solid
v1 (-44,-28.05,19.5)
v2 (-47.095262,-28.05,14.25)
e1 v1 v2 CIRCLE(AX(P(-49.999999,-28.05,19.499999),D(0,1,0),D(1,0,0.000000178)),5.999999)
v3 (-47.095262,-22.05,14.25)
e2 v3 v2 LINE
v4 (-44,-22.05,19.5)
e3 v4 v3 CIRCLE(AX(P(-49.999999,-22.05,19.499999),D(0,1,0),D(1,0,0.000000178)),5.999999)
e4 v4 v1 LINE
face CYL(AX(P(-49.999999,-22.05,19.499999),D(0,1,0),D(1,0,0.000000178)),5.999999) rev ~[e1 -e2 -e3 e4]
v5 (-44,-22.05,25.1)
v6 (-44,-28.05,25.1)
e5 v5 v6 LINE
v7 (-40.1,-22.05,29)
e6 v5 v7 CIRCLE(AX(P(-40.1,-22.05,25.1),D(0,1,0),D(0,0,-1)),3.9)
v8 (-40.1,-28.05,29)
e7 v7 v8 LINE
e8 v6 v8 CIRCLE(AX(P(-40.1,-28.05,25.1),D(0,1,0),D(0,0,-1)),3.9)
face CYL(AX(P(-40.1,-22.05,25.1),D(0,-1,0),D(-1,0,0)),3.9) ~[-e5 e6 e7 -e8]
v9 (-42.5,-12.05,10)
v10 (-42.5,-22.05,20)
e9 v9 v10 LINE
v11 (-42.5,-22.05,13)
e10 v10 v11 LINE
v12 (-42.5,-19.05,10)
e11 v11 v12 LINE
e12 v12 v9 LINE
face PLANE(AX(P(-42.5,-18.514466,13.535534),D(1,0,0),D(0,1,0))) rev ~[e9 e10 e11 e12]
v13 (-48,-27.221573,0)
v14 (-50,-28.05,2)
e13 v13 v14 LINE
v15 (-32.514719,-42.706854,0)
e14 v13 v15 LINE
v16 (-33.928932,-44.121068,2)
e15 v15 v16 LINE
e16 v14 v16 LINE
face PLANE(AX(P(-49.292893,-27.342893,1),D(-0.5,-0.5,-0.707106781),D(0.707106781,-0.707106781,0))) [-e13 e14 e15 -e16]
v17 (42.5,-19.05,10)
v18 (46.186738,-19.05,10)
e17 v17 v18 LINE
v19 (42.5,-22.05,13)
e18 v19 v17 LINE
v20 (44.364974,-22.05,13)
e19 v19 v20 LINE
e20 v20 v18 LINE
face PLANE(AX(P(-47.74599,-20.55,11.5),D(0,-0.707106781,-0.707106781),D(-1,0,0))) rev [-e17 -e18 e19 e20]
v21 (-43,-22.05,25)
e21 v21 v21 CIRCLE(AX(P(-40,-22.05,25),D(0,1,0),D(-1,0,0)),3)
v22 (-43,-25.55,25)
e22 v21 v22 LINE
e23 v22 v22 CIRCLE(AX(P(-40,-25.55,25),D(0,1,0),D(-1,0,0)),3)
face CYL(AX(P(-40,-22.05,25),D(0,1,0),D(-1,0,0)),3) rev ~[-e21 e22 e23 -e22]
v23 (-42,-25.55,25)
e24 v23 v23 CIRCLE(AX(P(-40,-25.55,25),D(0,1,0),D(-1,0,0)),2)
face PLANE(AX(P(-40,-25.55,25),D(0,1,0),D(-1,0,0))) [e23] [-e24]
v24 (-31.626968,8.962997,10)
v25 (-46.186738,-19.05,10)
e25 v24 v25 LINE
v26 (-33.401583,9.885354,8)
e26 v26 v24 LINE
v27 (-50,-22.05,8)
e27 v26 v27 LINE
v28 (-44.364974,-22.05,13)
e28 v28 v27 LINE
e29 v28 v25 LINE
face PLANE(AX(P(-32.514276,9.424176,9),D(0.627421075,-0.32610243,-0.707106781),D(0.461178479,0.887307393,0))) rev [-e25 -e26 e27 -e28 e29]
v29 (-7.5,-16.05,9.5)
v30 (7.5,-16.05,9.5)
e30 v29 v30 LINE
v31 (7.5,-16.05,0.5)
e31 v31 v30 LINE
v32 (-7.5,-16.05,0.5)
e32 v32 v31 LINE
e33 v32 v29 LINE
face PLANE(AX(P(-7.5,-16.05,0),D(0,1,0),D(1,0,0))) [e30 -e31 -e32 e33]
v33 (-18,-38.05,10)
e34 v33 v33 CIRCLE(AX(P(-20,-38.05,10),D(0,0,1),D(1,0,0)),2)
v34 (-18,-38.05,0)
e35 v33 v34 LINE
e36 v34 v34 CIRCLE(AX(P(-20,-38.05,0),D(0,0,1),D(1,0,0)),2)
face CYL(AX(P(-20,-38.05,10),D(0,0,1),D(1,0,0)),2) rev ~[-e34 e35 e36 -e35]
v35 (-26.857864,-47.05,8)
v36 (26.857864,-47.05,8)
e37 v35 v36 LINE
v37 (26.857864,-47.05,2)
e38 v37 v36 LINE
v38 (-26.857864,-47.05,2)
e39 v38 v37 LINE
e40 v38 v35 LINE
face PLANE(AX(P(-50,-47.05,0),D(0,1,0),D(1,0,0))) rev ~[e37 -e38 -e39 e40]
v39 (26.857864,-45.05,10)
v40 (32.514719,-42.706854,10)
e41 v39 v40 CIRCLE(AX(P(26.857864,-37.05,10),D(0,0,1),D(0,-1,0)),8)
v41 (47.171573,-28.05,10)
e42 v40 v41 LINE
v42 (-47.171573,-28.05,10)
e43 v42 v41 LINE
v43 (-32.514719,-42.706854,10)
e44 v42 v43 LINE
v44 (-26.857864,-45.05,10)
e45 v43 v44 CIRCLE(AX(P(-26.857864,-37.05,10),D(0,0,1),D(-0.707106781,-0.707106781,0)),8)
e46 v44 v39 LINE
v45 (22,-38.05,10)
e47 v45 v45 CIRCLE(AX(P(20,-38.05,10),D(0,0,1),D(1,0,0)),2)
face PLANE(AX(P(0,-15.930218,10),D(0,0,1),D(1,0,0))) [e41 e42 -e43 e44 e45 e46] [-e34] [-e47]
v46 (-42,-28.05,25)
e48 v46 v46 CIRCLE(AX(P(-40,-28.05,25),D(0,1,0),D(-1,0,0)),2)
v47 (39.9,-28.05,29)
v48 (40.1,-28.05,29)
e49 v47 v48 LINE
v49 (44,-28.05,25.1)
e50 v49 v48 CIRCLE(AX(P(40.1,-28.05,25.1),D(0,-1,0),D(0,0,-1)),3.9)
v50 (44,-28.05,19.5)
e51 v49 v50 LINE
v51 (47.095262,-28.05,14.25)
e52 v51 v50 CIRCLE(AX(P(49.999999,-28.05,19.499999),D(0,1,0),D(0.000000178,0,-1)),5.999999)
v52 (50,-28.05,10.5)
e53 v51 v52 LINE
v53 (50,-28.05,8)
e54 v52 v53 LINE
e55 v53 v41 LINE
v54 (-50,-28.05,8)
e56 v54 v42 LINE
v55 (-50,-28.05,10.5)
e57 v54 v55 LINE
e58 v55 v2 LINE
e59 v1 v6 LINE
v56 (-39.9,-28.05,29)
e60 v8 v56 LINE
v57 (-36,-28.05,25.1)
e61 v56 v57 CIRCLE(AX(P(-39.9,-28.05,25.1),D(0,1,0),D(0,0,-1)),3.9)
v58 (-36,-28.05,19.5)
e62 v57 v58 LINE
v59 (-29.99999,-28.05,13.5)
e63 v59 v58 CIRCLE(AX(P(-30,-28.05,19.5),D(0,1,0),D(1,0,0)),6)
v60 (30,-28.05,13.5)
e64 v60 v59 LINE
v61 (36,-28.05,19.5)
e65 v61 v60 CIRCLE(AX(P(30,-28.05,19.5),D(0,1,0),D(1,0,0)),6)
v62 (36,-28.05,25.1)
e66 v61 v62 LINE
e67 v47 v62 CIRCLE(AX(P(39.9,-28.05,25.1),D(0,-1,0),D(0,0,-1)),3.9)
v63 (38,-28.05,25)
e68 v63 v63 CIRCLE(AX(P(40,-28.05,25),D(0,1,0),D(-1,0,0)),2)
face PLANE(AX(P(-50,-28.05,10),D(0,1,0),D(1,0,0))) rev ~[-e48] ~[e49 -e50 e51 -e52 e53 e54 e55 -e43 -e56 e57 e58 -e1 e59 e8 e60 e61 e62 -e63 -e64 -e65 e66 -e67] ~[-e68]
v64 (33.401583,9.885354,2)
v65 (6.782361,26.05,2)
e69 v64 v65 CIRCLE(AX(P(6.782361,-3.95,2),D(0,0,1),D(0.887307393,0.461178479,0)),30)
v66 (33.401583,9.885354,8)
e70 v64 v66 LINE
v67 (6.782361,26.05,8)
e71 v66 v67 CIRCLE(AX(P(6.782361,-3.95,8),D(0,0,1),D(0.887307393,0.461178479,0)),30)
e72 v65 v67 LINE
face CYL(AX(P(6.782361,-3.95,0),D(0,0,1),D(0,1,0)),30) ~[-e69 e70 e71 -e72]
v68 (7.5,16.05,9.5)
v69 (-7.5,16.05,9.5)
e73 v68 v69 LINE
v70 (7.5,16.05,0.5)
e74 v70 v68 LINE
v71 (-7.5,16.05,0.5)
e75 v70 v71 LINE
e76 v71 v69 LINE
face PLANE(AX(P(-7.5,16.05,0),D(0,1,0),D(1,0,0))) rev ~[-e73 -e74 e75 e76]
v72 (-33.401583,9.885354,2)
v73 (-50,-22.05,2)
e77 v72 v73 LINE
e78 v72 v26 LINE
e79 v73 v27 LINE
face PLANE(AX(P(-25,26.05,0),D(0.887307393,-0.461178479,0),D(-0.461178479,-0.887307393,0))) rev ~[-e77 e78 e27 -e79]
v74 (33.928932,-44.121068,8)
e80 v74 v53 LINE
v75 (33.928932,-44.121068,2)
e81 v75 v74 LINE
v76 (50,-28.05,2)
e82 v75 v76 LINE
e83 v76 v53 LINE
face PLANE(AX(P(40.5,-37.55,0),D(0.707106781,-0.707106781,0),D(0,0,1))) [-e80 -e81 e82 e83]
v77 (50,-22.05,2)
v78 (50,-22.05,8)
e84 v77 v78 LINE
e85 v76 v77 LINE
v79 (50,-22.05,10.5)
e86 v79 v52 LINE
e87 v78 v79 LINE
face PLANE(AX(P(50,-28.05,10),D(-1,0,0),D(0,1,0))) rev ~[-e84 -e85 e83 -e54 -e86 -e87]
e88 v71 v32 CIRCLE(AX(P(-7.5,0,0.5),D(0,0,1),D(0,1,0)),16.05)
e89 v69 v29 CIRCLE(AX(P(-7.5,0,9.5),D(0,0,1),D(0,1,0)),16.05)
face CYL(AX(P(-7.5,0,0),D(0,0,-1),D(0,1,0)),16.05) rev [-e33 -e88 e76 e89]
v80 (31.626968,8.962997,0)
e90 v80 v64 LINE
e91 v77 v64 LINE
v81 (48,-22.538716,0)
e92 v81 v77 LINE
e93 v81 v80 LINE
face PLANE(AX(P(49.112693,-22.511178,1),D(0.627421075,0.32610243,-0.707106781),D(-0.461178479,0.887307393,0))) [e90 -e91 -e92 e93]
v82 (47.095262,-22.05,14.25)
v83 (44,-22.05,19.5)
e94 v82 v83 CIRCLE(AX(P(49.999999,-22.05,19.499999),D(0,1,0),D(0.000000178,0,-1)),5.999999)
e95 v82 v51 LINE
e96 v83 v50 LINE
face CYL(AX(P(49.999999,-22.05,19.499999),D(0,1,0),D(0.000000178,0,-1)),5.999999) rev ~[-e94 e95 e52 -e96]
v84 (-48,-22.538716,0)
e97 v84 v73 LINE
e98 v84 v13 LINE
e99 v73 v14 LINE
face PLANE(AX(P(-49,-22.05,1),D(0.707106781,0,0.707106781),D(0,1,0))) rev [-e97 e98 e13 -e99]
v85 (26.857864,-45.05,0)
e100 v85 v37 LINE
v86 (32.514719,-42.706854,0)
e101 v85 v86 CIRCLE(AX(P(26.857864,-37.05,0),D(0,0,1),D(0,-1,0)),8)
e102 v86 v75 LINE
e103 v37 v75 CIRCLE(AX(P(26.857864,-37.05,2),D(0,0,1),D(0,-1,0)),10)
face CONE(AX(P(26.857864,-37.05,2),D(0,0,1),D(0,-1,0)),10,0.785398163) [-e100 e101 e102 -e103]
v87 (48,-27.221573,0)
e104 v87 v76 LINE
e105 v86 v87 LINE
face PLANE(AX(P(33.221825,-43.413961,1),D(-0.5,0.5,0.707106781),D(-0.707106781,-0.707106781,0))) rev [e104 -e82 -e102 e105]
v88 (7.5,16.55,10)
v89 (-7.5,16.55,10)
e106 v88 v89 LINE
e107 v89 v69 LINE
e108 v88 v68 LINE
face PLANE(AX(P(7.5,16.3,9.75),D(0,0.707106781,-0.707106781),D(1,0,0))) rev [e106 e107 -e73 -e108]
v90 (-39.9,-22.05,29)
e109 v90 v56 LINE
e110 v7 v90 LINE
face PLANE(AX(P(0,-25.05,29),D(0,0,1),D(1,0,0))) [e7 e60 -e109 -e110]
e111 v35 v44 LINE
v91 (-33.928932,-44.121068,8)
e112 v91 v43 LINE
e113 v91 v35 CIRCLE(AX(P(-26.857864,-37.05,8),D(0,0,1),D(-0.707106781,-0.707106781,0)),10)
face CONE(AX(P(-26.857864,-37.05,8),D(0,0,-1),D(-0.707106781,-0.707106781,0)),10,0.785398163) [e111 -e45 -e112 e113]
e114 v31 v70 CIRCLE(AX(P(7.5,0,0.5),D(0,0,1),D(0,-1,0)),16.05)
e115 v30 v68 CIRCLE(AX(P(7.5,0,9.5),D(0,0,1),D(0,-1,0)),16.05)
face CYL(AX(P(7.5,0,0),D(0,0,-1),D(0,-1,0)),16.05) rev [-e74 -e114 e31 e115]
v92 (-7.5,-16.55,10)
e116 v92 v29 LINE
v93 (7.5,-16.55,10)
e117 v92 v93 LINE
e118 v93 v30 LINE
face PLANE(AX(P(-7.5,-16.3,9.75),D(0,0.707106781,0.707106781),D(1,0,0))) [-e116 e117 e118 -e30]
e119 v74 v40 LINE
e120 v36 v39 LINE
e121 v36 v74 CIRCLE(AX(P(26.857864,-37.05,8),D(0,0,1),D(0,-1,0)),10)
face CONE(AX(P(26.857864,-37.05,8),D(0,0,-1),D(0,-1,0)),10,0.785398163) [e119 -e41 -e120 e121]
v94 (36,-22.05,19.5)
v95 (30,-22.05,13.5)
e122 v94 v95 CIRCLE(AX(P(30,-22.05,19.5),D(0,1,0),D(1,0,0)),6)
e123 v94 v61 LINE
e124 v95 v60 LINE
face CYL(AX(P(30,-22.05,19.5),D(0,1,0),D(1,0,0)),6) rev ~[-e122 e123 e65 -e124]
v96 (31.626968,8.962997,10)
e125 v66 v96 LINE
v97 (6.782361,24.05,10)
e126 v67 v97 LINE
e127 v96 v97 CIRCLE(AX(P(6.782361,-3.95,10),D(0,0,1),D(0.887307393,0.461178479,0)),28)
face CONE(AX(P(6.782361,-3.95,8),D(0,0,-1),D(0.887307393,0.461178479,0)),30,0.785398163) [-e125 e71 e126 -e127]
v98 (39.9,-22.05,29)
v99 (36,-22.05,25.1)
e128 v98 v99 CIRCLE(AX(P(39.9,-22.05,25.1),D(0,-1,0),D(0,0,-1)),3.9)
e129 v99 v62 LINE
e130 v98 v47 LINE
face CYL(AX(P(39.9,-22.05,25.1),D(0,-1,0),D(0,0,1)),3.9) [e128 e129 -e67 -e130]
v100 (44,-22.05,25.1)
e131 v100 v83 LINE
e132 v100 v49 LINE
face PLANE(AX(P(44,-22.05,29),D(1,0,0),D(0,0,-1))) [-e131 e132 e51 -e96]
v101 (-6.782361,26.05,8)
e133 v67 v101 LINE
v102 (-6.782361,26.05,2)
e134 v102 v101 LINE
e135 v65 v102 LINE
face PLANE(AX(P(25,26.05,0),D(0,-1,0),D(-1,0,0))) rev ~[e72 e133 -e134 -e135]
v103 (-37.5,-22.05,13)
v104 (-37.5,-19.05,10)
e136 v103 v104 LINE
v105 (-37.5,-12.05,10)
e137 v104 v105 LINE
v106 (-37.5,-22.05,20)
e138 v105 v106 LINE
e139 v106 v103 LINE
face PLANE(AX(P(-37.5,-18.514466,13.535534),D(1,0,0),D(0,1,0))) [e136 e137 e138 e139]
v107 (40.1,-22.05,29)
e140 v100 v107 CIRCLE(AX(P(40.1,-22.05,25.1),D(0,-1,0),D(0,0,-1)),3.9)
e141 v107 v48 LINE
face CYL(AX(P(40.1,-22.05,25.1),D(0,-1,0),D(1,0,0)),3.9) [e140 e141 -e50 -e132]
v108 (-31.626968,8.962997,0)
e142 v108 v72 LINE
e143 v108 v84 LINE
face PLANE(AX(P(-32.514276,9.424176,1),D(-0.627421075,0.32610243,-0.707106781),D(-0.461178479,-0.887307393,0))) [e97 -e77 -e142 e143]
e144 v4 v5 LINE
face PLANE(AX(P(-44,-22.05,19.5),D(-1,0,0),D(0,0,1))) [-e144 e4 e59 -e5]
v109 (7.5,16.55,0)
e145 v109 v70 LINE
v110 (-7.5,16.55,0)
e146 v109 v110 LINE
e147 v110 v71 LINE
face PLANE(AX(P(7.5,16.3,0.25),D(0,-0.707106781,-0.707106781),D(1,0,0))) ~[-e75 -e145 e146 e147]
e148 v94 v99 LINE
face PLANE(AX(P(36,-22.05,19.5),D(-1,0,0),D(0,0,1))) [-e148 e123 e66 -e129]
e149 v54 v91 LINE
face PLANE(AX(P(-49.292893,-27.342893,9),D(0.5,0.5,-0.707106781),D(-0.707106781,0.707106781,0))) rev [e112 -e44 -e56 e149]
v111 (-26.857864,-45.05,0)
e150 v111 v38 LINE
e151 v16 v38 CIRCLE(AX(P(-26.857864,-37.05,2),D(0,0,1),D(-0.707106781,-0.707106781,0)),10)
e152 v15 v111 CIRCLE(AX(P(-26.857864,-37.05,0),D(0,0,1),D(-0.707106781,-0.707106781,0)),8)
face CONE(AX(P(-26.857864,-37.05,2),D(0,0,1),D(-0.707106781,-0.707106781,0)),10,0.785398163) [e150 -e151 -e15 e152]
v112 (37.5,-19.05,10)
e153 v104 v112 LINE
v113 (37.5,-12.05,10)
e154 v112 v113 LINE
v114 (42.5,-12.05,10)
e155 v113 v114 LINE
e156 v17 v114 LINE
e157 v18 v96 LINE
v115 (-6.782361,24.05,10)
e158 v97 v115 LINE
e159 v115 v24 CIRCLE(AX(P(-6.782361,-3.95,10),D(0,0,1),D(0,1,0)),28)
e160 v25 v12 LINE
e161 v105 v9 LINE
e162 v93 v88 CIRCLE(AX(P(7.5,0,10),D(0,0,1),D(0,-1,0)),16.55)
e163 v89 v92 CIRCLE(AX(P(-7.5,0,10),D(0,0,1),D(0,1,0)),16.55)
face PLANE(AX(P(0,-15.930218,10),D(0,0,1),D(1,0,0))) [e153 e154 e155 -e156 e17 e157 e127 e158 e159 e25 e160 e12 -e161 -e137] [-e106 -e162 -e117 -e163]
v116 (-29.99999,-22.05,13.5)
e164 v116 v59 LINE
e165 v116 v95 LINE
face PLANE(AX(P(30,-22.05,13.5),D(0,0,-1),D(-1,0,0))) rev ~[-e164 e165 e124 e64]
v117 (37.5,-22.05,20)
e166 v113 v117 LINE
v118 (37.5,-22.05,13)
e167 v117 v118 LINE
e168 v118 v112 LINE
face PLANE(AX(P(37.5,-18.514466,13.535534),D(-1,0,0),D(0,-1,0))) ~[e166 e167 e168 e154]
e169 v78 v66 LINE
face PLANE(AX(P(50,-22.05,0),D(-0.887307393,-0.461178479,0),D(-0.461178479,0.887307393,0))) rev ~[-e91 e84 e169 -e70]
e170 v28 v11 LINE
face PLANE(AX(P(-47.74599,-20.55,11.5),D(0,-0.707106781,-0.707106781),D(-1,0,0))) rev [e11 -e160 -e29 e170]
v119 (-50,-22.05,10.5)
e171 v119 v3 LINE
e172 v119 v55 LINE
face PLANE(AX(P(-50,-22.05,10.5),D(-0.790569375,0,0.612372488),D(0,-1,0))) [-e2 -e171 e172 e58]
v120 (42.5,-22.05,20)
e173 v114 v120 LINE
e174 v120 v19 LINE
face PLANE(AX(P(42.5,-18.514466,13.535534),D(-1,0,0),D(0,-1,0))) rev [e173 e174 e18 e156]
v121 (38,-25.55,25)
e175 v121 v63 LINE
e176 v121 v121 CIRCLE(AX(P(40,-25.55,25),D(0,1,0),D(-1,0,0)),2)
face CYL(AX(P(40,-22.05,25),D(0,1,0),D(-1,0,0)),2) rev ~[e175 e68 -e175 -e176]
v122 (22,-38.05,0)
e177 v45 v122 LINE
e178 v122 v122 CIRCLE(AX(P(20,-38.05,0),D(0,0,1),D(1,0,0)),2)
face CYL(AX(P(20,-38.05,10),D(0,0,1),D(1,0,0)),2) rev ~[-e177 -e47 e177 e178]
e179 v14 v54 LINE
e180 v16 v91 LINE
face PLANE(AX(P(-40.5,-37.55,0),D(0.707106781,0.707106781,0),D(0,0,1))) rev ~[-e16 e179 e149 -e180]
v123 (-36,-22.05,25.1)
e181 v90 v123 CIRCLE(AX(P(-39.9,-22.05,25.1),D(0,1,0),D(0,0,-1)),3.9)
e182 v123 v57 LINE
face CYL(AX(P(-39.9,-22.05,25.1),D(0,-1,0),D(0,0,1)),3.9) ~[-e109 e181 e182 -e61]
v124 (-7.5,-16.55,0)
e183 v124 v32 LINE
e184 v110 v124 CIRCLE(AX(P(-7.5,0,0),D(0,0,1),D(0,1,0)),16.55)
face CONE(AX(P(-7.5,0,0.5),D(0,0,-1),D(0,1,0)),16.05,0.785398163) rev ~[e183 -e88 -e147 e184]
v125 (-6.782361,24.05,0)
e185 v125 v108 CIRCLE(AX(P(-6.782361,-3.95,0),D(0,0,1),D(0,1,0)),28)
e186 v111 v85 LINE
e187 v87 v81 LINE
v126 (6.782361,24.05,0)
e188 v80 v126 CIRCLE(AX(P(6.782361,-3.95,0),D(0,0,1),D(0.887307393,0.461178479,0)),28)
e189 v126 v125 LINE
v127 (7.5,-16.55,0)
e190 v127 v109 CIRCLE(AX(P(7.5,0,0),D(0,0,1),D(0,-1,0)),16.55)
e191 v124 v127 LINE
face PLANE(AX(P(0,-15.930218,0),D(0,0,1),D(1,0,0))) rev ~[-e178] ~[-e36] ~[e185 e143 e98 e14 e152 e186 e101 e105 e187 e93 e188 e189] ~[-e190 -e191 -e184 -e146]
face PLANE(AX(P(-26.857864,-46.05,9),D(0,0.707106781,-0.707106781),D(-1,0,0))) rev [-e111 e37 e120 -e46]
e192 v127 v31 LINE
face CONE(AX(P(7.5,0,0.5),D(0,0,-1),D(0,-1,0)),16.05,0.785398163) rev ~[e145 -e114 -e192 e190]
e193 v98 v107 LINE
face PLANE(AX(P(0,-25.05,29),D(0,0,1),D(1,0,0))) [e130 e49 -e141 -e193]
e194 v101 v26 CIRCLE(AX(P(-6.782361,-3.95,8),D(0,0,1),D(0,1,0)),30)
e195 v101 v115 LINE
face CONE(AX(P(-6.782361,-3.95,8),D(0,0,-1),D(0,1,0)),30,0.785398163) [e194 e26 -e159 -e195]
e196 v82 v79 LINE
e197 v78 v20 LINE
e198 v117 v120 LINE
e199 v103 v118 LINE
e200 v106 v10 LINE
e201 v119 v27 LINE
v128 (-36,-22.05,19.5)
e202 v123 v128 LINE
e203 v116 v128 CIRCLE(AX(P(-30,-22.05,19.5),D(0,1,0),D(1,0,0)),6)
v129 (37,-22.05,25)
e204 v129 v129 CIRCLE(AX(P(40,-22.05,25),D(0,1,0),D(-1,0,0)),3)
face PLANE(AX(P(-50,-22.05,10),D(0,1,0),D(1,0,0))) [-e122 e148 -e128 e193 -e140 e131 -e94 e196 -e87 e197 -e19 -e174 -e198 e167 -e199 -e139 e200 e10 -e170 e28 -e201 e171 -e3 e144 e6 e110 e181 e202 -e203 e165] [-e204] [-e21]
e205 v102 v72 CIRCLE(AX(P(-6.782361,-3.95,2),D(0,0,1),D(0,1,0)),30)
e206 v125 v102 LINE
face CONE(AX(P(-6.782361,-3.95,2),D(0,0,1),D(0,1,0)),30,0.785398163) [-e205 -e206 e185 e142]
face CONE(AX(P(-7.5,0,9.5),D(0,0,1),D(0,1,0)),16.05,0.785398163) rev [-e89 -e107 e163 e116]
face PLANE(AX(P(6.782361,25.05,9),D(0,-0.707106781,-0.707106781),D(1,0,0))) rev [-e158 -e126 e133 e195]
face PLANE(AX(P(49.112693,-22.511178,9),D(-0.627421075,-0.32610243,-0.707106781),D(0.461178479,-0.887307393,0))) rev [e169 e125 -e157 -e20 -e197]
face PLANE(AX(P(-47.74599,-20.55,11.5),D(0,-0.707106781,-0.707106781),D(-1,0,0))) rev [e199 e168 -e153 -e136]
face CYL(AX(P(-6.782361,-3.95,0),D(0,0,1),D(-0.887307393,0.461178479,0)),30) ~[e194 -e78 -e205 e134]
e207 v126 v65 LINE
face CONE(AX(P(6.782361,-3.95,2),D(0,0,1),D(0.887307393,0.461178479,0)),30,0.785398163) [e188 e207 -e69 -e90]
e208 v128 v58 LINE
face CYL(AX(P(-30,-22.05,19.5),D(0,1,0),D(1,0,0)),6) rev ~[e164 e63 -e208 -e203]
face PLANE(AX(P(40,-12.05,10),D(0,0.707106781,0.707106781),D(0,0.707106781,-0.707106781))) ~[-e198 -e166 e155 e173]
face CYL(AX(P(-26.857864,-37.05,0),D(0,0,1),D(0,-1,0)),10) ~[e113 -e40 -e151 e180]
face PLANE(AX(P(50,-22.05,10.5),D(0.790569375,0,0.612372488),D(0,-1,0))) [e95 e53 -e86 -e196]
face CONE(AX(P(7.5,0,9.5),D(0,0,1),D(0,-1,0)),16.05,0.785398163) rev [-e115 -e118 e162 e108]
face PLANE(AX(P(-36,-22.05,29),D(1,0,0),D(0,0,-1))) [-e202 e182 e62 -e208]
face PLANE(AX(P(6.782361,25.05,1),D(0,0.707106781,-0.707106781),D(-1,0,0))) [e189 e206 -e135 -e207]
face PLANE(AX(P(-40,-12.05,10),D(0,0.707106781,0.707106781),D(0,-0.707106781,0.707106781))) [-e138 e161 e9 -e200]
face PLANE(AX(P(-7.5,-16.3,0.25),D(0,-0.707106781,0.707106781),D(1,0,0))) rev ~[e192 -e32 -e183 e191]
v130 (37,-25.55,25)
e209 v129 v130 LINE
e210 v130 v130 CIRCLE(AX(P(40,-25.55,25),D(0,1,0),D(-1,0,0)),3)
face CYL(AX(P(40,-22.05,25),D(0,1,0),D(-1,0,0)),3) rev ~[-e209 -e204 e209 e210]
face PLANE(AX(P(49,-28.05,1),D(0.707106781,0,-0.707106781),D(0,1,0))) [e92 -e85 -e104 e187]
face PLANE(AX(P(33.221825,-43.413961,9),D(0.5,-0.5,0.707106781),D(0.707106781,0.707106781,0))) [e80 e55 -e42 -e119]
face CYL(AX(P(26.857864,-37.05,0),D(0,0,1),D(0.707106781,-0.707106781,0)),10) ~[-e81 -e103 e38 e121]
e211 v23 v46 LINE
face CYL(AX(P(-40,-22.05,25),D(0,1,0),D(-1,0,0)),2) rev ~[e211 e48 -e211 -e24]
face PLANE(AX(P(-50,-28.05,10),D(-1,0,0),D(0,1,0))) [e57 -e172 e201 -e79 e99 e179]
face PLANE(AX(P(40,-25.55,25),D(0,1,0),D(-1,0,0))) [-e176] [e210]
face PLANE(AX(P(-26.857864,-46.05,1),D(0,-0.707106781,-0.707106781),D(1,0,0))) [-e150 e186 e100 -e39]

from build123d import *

# Parameters (mm, degrees)
PAD_DEPTH       = 10
SKETCH001_W     = 100
SKETCH001_H     = 6
PAD001_DEPTH    = 19
POCKET_DEPTH    = 25.001
SKETCH003_W     = 59.99999
SKETCH003_H     = 15.5
POCKET001_DEPTH = 25.001
SKETCH004_R     = 2
POCKET002_DEPTH = 25.001
SKETCH005_R     = 3
POCKET003_DEPTH = 3.5
FILLET_R        = 3.9
FILLET001_R     = 30
SKETCH006_R     = 2
POCKET004_DEPTH = 10.001
CHAMFER_SIZE    = 19
FILLET002_R     = 10
CHAMFER001_SIZE = 2
CHAMFER002_SIZE = 3
CHAMFER003_SIZE = 3
CHAMFER004_SIZE = 0.5
PAD002_DEPTH    = 2.5


with BuildPart() as part:
    # Sketch → Pad (new body)
    with BuildSketch(Plane.XY):
        Polygon((50, -22.05), (25, 26.05), (-25, 26.05), (-50, -22.05), (-50, -47.05), (50, -47.05), align=None)
        with BuildLine():
            ThreePointArc((-7.5, 16.05), (-23.55, 0), (-7.5, -16.05))
            Line((-7.5, -16.05), (7.5, -16.05))
            ThreePointArc((7.5, -16.05), (23.55, 0), (7.5, 16.05))
            Line((-7.5, 16.05), (7.5, 16.05))
        make_face(mode=Mode.SUBTRACT)
    extrude(amount=PAD_DEPTH)

    # Sketch001 (on Face12 of Pad) → Pad001 (join)
    with BuildSketch(Plane.XY.offset(10)):
        with Locations((0, -25.05)):
            Rectangle(SKETCH001_W, SKETCH001_H)
    extrude(amount=PAD001_DEPTH)

    # Sketch002 (on Face12 of Pad001) → Pocket (cut, through all)
    with BuildSketch(Plane(origin=(0, -22.05, 0), x_dir=(-1, 0, 0), z_dir=(0, 1, 0))):
        with BuildLine():
            ThreePointArc((-50, 13.5), (-45.757359, 15.257359), (-44, 19.5))
            Line((-44, 29), (-44, 19.5))
            Line((-50, 29), (-44, 29))
            Line((-50, 13.5), (-50, 29))
        make_face()
        with BuildLine():
            ThreePointArc((-36, 19.5), (-30, 13.5), (-24, 19.5))
            Line((-24, 29), (-24, 19.5))
            Line((-36, 29), (-24, 29))
            Line((-36, 19.5), (-36, 29))
        make_face()
        with BuildLine():
            ThreePointArc((-16, 19.5), (-10, 13.5), (-4, 19.5))
            Line((-4, 29), (-4, 19.5))
            Line((-16, 29), (-4, 29))
            Line((-16, 19.5), (-16, 29))
        make_face()
        with BuildLine():
            ThreePointArc((4, 19.5), (10, 13.5), (16, 19.5))
            Line((16, 29), (16, 19.5))
            Line((4, 29), (16, 29))
            Line((4, 19.5), (4, 29))
        make_face()
        with BuildLine():
            ThreePointArc((24, 19.5), (30, 13.5), (36, 19.5))
            Line((36, 29), (36, 19.5))
            Line((24, 29), (36, 29))
            Line((24, 19.5), (24, 29))
        make_face()
        with BuildLine():
            ThreePointArc((44, 19.5), (45.757359, 15.257359), (50, 13.5))
            Line((50, 29), (50, 13.5))
            Line((44, 29), (50, 29))
            Line((44, 19.5), (44, 29))
        make_face()
    extrude(amount=-POCKET_DEPTH, mode=Mode.SUBTRACT)

    # Sketch003 (on Face10 of Pocket) → Pocket001 (cut, through all)
    with BuildSketch(Plane(origin=(0, -22.05, 0), x_dir=(-1, 0, 0), z_dir=(0, 1, 0))):
        with Locations((-5e-06, 21.25)):
            Rectangle(SKETCH003_W, SKETCH003_H)
    extrude(amount=-POCKET001_DEPTH, mode=Mode.SUBTRACT)

    # Sketch004 (on Face10 of Pocket001) → Pocket002 (cut, through all)
    with BuildSketch(Plane(origin=(0, -22.05, 0), x_dir=(-1, 0, 0), z_dir=(0, 1, 0))):
        with Locations((-40, 25)):
            Circle(SKETCH004_R)
        with Locations((40, 25)):
            Circle(SKETCH004_R)
    extrude(amount=-POCKET002_DEPTH, mode=Mode.SUBTRACT)

    # Sketch005 (on Face10 of Pocket002) → Pocket003 (cut)
    with BuildSketch(Plane(origin=(0, -22.05, 0), x_dir=(-1, 0, 0), z_dir=(0, 1, 0))):
        with Locations((-40, 25)):
            Circle(SKETCH005_R)
        with Locations((40, 25)):
            Circle(SKETCH005_R)
    extrude(amount=-POCKET003_DEPTH, mode=Mode.SUBTRACT)

    # Fillet
    fillet_edges = [part.edges().sort_by_distance(p)[0] for p in [
        (36, -25.05, 29),
        (44, -25.05, 29),
        (-36, -25.05, 29),
        (-44, -25.05, 29),
    ]]
    fillet(fillet_edges, radius=FILLET_R)

    # Fillet001
    fillet001_edges = [part.edges().sort_by_distance(p)[0] for p in [
        (25, 26.05, 5),
        (-25, 26.05, 5),
    ]]
    fillet(fillet001_edges, radius=FILLET001_R)

    # Sketch006 (on Face15 of Fillet001) → Pocket004 (cut, through all)
    with BuildSketch(Plane.XY.offset(10)):
        with Locations((-20, -38.05)):
            Circle(SKETCH006_R)
        with Locations((20, -38.05)):
            Circle(SKETCH006_R)
    extrude(amount=-POCKET004_DEPTH, mode=Mode.SUBTRACT)

    # Chamfer
    chamfer_edges = [part.edges().sort_by_distance(p)[0] for p in [
        (-50, -47.05, 5),
        (50, -47.05, 5),
    ]]
    chamfer(chamfer_edges, length=CHAMFER_SIZE)

    # Fillet002
    fillet002_edges = [part.edges().sort_by_distance(p)[0] for p in [
        (-31, -47.05, 5),
        (31, -47.05, 5),
    ]]
    fillet(fillet002_edges, radius=FILLET002_R)

    # Chamfer001
    chamfer001_edges = [part.edges().sort_by_distance(p)[0] for p in [
        (-41.700791, -6.082323, 0),
        (-50, -25.05, 0),
        (-41.964466, -36.085534, 0),
        (50, -25.05, 0),
        (-41.700791, -6.082323, 10),
        (-41.964466, -36.085534, 10),
    ]]
    chamfer(chamfer001_edges, length=CHAMFER001_SIZE)

    # Chamfer002
    chamfer002_edges = [part.edges().sort_by_distance(p)[0] for p in [
        (-50, -25.05, 13.5),
        (50, -25.05, 13.5),
    ]]
    chamfer(chamfer002_edges, length=CHAMFER002_SIZE)

    # Chamfer003
    chamfer003_edges = [part.edges().sort_by_distance(p)[0] for p in [
        (0, -22.05, 10),
    ]]
    chamfer(chamfer003_edges, length=CHAMFER003_SIZE)

    # Chamfer004
    chamfer004_edges = [part.edges().sort_by_distance(p)[0] for p in [
        (-23.55, 0, 0),
        (-23.55, 0, 10),
    ]]
    chamfer(chamfer004_edges, length=CHAMFER004_SIZE)

    # Sketch007 → Pad002 (join, symmetric)
    with BuildSketch(Plane.YZ.offset(-40)):
        Polygon((-22.05, 20), (-22.05, 10), (-12.05, 10), align=None)
    pad002 = extrude(amount=PAD002_DEPTH, both=True)

    # Mirrored: Pad002 across YZ
    add(pad002.mirror(Plane.YZ))


solid = part.part
